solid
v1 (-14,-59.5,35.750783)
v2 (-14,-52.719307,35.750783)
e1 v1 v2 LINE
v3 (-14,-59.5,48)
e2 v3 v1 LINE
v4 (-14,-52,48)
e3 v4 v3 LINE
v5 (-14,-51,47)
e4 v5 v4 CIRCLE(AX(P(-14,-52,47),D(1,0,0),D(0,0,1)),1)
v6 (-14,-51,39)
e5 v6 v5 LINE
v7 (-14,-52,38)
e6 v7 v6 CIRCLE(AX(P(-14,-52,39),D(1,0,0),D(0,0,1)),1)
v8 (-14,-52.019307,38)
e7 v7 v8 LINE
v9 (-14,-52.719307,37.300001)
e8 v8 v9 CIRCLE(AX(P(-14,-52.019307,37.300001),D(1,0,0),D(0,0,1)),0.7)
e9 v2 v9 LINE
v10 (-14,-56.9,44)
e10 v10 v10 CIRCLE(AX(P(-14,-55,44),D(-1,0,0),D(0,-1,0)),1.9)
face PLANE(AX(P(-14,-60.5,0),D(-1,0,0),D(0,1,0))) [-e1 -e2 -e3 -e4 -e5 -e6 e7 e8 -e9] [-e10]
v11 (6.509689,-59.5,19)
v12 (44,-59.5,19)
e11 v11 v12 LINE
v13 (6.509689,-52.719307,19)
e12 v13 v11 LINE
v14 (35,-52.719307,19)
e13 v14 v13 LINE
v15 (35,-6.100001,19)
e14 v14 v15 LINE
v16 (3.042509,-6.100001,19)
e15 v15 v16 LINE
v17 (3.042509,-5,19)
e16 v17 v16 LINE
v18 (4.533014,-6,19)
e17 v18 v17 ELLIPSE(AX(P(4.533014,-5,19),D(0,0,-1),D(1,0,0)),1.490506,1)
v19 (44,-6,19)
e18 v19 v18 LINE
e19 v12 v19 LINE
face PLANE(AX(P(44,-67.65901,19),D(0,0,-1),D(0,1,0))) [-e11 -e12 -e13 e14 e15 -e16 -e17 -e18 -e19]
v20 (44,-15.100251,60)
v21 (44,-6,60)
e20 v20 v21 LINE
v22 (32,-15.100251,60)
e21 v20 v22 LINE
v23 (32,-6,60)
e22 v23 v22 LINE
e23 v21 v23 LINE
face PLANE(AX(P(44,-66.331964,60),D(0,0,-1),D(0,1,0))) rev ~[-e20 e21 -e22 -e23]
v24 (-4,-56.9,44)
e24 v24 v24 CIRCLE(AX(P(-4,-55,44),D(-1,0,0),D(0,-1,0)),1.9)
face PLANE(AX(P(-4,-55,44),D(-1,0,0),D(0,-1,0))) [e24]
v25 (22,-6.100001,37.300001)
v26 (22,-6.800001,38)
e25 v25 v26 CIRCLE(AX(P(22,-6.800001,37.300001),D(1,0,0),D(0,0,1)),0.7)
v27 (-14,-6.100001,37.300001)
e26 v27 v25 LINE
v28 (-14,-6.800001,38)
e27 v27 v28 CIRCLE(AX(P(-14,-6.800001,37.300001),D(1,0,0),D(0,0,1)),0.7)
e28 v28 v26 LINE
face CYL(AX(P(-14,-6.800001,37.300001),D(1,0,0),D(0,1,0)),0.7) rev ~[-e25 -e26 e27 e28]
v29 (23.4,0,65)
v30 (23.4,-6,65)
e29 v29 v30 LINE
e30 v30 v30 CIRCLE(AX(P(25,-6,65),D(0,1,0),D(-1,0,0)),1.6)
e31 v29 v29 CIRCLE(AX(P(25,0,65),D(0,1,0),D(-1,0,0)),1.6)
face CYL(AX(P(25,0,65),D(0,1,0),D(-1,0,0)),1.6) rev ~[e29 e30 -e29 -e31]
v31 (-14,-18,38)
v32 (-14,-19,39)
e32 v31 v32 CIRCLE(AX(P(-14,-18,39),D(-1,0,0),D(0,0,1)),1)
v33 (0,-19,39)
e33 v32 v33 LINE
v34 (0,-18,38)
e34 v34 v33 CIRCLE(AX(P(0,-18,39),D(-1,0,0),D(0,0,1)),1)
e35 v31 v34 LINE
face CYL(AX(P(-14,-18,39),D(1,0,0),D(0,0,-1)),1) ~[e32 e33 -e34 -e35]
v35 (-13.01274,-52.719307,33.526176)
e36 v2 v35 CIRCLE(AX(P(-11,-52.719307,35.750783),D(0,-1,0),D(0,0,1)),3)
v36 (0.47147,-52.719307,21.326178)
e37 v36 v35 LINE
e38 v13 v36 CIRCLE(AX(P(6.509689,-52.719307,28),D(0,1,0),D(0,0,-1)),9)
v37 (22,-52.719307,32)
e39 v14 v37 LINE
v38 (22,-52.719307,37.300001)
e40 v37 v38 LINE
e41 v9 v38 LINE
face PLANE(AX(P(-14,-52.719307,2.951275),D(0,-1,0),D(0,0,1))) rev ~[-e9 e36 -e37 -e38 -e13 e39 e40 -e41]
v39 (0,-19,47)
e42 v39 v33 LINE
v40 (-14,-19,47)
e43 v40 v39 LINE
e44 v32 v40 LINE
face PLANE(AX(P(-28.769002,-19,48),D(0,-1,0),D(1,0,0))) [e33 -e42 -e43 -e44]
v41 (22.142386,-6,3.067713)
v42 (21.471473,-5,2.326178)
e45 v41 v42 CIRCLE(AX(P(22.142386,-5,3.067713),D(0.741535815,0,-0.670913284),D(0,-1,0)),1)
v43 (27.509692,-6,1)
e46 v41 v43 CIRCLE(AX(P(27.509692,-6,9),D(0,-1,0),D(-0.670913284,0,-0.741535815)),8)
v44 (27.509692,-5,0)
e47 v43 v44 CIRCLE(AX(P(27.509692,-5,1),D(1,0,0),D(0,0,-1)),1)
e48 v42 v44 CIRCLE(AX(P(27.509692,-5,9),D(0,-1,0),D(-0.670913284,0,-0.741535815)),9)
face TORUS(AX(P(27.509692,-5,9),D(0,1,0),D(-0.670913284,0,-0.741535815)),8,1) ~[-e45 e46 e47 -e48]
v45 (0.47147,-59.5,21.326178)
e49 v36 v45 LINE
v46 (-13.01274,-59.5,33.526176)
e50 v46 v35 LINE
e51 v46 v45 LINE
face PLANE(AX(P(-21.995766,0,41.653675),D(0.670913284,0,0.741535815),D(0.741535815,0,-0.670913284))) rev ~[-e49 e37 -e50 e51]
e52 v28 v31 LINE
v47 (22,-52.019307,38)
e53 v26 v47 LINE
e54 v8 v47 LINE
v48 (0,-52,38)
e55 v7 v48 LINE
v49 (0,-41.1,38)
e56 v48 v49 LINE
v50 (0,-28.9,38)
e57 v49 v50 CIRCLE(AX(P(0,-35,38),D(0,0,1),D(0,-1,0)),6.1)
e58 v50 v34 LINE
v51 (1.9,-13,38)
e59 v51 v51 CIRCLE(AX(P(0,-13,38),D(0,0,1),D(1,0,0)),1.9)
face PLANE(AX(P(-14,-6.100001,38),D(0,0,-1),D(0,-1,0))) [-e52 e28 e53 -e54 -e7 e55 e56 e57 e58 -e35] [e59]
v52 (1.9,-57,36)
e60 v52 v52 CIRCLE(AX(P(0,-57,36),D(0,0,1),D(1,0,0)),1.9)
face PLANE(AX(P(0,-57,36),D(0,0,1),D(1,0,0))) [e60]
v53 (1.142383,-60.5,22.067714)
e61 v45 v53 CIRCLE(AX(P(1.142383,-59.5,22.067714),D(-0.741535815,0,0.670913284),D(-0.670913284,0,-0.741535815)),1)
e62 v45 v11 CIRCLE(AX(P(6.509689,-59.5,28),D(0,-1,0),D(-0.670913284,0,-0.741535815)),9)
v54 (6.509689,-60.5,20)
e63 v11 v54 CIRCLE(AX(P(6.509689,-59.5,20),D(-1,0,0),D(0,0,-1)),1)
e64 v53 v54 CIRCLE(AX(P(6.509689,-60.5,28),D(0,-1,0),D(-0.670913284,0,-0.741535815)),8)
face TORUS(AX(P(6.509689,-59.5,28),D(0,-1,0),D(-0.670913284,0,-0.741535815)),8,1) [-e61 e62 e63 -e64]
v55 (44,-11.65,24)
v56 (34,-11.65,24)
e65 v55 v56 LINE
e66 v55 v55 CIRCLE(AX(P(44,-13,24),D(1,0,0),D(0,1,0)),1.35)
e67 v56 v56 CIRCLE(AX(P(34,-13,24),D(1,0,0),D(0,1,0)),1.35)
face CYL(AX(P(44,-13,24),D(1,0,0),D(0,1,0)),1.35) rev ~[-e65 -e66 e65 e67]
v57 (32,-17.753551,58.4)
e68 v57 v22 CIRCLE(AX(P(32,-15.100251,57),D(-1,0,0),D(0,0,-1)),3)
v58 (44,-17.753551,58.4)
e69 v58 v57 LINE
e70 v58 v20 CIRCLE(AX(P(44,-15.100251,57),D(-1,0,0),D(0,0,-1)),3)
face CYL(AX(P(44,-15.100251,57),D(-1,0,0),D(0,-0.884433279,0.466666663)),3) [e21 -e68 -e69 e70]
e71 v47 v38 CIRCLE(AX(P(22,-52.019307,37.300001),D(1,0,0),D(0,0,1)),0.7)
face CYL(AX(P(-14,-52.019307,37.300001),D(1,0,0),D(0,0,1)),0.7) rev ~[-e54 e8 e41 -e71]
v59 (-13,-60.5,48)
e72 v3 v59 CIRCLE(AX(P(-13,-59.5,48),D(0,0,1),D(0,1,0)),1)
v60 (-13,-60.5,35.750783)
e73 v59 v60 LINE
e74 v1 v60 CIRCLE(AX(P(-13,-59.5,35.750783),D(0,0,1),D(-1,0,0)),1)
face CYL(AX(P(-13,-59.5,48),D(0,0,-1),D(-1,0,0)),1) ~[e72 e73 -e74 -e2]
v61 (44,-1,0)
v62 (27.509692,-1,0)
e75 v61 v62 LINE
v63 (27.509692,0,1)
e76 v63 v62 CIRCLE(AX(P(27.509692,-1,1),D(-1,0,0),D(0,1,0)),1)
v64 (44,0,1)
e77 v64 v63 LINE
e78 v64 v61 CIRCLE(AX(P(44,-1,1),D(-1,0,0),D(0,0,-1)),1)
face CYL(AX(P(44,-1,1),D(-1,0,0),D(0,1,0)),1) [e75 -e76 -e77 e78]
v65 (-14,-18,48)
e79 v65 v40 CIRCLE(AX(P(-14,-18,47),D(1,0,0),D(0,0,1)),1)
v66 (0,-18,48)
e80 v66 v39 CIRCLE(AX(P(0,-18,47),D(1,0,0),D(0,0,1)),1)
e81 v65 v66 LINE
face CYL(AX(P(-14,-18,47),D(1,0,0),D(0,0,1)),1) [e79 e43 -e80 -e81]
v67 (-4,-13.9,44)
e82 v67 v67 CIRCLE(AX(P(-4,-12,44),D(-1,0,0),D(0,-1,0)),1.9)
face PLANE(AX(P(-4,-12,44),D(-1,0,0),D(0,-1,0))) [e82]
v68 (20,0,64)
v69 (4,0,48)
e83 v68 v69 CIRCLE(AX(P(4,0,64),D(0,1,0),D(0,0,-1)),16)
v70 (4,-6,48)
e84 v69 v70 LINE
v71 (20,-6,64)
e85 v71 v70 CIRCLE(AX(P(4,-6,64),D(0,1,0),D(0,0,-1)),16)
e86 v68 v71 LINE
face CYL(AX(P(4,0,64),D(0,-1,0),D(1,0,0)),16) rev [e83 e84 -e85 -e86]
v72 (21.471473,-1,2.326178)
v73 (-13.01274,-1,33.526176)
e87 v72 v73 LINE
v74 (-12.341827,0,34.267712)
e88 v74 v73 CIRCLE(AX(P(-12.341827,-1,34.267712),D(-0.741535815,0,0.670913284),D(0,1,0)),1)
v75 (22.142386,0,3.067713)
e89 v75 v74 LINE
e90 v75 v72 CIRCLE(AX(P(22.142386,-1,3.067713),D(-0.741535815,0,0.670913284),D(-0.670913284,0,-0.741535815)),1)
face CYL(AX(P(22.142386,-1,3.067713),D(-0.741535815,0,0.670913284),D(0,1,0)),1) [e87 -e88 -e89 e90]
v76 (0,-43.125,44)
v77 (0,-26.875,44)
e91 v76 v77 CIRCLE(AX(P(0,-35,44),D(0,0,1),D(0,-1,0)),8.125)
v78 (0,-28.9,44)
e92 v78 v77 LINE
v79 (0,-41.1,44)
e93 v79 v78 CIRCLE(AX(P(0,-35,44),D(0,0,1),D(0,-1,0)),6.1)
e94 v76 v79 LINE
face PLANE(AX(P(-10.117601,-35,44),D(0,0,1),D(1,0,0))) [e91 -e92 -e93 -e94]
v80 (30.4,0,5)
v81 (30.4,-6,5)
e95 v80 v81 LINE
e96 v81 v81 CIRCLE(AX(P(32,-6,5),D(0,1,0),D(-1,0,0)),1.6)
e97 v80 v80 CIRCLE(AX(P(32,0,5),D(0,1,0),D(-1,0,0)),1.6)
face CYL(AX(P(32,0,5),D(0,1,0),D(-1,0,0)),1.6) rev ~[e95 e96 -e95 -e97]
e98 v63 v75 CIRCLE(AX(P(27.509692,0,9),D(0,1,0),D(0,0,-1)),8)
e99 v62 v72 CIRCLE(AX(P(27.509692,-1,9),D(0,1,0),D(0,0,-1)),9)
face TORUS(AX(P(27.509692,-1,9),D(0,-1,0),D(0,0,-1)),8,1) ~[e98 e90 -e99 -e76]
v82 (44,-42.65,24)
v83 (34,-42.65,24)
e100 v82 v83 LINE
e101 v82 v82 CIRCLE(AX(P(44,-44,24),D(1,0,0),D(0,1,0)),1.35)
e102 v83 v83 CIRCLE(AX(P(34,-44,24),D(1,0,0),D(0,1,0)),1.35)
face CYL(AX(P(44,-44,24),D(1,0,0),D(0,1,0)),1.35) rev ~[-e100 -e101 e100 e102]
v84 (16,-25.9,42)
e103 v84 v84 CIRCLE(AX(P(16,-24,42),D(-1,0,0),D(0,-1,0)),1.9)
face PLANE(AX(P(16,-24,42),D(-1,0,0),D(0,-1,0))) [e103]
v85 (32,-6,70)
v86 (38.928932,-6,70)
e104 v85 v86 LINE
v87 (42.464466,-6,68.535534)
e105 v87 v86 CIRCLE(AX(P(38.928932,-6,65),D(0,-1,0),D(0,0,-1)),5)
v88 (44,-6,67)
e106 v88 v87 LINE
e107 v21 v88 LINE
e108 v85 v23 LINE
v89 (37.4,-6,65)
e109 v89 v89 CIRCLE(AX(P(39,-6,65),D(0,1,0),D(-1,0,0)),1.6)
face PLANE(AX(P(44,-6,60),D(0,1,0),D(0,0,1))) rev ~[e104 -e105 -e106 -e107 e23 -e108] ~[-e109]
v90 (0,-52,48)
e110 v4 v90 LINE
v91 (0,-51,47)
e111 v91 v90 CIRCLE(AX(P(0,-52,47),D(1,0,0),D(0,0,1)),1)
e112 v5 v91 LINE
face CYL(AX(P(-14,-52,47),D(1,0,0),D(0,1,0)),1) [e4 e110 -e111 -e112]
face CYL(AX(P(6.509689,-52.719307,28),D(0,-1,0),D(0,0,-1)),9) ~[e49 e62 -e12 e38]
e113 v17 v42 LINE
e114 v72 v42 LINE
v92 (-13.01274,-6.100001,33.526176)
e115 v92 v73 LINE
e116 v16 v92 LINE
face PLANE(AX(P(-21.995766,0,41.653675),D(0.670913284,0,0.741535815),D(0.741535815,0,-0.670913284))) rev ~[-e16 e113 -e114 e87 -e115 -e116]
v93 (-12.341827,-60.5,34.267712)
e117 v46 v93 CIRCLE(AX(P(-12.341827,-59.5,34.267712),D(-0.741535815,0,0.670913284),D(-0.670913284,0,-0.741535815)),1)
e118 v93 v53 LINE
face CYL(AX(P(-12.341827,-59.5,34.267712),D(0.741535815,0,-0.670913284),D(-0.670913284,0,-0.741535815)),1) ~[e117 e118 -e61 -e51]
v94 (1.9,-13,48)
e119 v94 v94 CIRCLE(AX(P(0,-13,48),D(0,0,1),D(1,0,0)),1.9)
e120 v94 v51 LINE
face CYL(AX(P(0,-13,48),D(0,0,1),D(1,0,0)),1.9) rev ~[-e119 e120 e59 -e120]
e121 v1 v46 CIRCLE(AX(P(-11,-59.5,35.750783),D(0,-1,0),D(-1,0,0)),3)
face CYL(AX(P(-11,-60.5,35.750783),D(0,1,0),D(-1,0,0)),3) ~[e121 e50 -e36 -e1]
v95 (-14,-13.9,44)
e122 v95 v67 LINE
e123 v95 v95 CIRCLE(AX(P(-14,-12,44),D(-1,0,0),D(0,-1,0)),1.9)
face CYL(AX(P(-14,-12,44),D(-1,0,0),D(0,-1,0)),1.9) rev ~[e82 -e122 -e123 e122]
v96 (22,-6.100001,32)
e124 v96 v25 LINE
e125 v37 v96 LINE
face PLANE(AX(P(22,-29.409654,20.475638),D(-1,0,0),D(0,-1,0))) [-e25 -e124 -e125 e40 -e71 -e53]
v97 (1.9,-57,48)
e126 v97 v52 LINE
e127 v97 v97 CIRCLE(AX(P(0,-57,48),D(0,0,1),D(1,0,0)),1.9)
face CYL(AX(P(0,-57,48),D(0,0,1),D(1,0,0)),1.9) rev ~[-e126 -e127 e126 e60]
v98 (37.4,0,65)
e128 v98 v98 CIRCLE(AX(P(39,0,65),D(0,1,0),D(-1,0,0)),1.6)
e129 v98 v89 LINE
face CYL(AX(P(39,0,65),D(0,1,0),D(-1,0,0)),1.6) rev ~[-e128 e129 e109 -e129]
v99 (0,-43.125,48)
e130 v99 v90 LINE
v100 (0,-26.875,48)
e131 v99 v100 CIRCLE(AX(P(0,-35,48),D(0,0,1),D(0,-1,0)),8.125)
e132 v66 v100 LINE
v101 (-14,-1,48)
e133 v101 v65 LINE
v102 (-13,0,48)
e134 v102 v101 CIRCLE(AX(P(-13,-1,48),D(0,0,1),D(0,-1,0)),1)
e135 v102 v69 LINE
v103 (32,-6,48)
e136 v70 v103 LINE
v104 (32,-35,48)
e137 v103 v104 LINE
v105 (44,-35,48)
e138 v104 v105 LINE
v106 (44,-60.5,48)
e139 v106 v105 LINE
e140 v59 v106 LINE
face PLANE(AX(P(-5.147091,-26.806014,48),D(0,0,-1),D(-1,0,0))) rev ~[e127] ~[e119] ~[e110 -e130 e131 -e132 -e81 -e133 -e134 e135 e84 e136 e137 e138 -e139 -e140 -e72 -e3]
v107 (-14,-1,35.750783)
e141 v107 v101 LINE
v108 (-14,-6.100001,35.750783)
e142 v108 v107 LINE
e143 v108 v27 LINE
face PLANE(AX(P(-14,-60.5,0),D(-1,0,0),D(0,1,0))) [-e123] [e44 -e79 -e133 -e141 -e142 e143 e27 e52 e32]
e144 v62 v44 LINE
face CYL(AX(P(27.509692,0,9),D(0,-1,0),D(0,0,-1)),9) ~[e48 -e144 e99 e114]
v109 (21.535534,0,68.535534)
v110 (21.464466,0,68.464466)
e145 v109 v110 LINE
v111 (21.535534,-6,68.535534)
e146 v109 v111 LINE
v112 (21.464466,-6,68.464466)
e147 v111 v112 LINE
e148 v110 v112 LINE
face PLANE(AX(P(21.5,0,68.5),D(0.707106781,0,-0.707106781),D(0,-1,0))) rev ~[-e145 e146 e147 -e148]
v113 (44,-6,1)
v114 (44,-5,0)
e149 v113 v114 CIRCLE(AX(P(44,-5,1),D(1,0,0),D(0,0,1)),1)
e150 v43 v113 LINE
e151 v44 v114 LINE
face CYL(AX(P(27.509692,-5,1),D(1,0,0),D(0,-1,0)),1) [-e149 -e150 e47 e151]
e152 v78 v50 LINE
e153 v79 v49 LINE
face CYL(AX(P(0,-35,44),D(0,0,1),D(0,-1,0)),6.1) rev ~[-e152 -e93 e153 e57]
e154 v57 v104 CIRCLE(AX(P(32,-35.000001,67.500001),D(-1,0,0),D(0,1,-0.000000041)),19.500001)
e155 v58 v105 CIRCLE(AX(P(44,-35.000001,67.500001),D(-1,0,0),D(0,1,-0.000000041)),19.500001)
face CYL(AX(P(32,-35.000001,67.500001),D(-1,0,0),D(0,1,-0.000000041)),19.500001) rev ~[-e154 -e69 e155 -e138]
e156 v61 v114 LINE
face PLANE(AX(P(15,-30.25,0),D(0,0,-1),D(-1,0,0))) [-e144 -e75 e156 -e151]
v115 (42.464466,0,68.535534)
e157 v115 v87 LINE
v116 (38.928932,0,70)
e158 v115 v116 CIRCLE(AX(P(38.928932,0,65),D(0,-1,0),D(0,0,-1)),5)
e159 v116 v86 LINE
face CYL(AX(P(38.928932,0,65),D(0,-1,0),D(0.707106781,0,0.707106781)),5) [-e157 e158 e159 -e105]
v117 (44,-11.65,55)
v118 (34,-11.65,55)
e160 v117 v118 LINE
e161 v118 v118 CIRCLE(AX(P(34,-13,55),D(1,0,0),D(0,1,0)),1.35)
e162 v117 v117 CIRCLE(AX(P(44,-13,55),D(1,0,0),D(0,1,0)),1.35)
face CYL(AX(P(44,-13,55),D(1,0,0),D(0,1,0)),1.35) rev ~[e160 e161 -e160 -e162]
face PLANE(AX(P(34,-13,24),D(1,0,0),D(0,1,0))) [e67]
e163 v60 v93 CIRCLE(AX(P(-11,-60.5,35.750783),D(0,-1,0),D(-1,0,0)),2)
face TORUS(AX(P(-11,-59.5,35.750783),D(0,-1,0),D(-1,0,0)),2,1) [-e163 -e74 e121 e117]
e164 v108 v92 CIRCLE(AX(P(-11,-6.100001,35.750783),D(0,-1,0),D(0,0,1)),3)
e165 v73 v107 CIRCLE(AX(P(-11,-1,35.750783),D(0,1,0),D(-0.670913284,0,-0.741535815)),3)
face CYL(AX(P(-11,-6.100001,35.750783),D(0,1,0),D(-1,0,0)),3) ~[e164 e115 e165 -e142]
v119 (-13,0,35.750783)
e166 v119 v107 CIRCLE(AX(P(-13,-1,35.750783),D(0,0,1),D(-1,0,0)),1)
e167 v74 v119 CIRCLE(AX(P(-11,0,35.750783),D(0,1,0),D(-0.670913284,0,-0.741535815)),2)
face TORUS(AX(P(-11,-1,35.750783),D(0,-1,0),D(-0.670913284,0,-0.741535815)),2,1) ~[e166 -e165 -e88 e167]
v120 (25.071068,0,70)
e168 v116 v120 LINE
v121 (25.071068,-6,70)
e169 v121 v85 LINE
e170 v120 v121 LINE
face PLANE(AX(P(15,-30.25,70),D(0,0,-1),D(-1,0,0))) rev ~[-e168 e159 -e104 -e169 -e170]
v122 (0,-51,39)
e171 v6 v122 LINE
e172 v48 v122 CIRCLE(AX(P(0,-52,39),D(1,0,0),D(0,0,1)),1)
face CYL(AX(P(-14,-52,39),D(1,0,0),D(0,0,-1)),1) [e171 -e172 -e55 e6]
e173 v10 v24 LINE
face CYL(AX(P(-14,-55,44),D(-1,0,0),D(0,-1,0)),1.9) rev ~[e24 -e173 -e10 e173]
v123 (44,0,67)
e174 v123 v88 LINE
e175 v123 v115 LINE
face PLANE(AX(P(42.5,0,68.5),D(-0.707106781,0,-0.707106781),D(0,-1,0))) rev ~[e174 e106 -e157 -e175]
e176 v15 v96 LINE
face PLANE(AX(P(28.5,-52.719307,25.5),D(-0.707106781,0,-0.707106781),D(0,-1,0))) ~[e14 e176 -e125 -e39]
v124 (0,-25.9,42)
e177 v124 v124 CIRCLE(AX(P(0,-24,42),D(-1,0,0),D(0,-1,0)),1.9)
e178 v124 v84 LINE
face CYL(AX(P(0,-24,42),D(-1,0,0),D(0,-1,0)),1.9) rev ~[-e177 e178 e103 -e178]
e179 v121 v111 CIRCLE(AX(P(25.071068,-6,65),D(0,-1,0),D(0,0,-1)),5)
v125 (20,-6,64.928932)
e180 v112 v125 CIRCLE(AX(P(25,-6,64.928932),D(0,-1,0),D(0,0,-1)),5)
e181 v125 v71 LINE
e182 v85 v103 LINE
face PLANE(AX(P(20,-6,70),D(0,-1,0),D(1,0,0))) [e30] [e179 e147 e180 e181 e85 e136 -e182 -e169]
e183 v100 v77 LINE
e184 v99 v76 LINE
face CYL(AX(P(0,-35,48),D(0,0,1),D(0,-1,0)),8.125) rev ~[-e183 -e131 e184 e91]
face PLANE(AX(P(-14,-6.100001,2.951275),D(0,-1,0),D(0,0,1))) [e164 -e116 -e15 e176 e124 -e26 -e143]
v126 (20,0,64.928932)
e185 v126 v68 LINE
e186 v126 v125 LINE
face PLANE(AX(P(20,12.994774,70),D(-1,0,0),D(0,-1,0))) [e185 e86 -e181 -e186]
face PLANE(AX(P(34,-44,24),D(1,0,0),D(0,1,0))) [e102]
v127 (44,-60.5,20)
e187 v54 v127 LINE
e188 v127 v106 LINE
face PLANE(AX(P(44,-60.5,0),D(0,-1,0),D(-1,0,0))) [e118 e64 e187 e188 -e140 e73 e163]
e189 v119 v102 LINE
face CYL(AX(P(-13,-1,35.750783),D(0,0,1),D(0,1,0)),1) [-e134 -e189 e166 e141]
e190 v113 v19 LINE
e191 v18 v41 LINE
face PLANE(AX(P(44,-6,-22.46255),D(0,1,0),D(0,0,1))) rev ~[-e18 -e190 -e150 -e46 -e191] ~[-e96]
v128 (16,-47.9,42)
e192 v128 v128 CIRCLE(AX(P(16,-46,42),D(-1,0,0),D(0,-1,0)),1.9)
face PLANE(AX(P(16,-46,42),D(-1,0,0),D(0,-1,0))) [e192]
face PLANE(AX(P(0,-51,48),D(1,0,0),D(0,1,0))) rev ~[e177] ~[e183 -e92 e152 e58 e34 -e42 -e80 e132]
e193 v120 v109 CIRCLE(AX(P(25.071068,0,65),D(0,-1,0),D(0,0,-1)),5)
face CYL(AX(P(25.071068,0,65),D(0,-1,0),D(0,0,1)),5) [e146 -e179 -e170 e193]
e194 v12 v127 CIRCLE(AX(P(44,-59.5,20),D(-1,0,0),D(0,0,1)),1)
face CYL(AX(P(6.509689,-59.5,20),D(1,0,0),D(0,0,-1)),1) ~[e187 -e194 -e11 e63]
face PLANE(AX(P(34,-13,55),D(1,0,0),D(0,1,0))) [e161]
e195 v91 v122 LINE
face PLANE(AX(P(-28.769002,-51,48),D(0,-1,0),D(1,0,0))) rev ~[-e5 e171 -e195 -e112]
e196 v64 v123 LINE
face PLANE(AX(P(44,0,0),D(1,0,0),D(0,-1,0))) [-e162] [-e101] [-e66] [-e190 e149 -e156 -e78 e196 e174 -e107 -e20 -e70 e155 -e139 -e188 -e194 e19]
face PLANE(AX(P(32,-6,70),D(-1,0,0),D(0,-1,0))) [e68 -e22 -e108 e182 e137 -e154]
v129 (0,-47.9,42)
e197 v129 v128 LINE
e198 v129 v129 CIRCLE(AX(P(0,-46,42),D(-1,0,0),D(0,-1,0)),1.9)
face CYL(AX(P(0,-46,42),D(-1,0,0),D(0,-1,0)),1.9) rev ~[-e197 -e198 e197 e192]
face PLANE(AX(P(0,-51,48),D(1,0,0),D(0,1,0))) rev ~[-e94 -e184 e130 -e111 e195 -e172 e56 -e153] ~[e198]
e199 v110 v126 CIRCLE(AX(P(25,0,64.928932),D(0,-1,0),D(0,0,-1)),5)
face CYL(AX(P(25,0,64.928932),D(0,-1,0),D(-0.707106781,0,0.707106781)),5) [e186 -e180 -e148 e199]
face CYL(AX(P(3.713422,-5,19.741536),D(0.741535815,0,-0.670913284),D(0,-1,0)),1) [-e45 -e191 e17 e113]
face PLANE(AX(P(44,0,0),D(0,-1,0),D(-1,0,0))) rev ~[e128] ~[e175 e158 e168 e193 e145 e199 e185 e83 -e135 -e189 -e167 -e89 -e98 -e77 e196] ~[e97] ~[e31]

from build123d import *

# Parameters (mm, degrees)
PAD_DEPTH       = 70
POCKET_DEPTH    = 22
SKETCH008_W     = 61.659011
SKETCH008_H     = 41.462551
SKETCH008_W_2   = 60.331963
SKETCH008_H_2   = 13.684097
POCKET001_DEPTH = 76
SKETCH003_R     = 1.9
POCKET002_DEPTH = 12
POCKET003_DEPTH = 4
POCKET004_DEPTH = 6
SKETCH009_R     = 1.35
POCKET005_DEPTH = 10
SKETCH030_W     = 28.769002
SKETCH030_H     = 32
POCKET006_DEPTH = 48.001
SKETCH031_W     = 46.619307
SKETCH031_H     = 35.048725
POCKET007_DEPTH = 36
SKETCH032_R     = 1.9
POCKET008_DEPTH = 10
SKETCH013_R     = 1.9
POCKET009_DEPTH = 16
SKETCH010_R     = 1.6
POCKET010_DEPTH = 7
POCKET011_DEPTH = 60.501
POCKET012_DEPTH = 12.001
FILLET_R        = 3
CHAMFER_SIZE    = 3
FILLET001_R     = 5
FILLET002_R     = 9
FILLET003_R     = 0.7
FILLET004_R     = 1
FILLET005_R     = 1
FILLET006_R     = 3
FILLET007_R     = 1
FILLET008_R     = 1
CHAMFER001_SIZE = 13
FILLET009_R     = 1
FILLET010_R     = 16


with BuildPart() as part:
    # Sketch → Pad (new body)
    with BuildSketch(Plane.XY):
        Polygon((0, 0), (44, 0), (44, -60.5), (-14, -60.5), (-14, 0), align=None)
    extrude(amount=PAD_DEPTH)

    # Sketch002 (on Face7 of Pad) → Pocket (cut)
    with BuildSketch(Plane.XY.offset(70)):
        Polygon((32, -6), (32, -65.096024), (-40.783405, -65.096024), (-40.783405, 12.994774), (20, 12.994774), (20, -6), align=None)
    extrude(amount=-POCKET_DEPTH, mode=Mode.SUBTRACT)

    # Sketch008 (on Face3 of Pocket) → Pocket001 (cut)
    with BuildSketch(Plane.YZ.offset(44)):
        with Locations((-36.829505, -1.731275)):
            Rectangle(SKETCH008_W, SKETCH008_H)
        with Locations((-36.165982, 66.842049)):
            Rectangle(SKETCH008_W_2, SKETCH008_H_2)
    extrude(amount=-POCKET001_DEPTH, mode=Mode.SUBTRACT)

    # Sketch003 (on Face6 of Pocket001) → Pocket002 (cut)
    with BuildSketch(Plane.XY.offset(48)):
        with Locations((0, -13)):
            Circle(SKETCH003_R)
        with Locations((0, -57)):
            Circle(SKETCH003_R)
    extrude(amount=-POCKET002_DEPTH, mode=Mode.SUBTRACT)

    # Sketch004 (on Face6 of Pocket002) → Pocket003 (cut)
    with BuildSketch(Plane.XY.offset(48)):
        with BuildLine():
            ThreePointArc((0, -43.125), (8.125, -35), (0, -26.875))
            Line((-25, -26.875), (0, -26.875))
            Line((-25, -43.125), (-25, -26.875))
            Line((0, -43.125), (-25, -43.125))
        make_face()
    extrude(amount=-POCKET003_DEPTH, mode=Mode.SUBTRACT)

    # Sketch018 (on Face22 of Pocket003) → Pocket004 (cut)
    with BuildSketch(Plane.XY.offset(44)):
        with BuildLine():
            ThreePointArc((0, -41.1), (6.1, -35), (0, -28.9))
            Line((0, -28.9), (-50, -28.9))
            Line((-50, -41.1), (-50, -28.9))
            Line((0, -41.1), (-50, -41.1))
        make_face()
    extrude(amount=-POCKET004_DEPTH, mode=Mode.SUBTRACT)

    # Sketch009 (on Face3 of Pocket004) → Pocket005 (cut)
    with BuildSketch(Plane.YZ.offset(44)):
        with Locations((-44, 55)):
            Circle(SKETCH009_R)
        with Locations((-13, 24)):
            Circle(SKETCH009_R)
        with Locations((-13, 55)):
            Circle(SKETCH009_R)
        with Locations((-44, 24)):
            Circle(SKETCH009_R)
    extrude(amount=-POCKET005_DEPTH, mode=Mode.SUBTRACT)

    # Sketch030 (on Face6 of Pocket005) → Pocket006 (cut, through all)
    with BuildSketch(Plane.XY.offset(48)):
        with Locations((-14.384501, -35)):
            Rectangle(SKETCH030_W, SKETCH030_H)
    extrude(amount=-POCKET006_DEPTH, mode=Mode.SUBTRACT)

    # Sketch031 (on Face8 of Pocket006) → Pocket007 (cut)
    with BuildSketch(Plane(origin=(-14, 0, 0), x_dir=(0, -1, 0), z_dir=(-1, 0, 0))):
        with Locations((29.409654, 20.475638)):
            Rectangle(SKETCH031_W, SKETCH031_H)
    extrude(amount=-POCKET007_DEPTH, mode=Mode.SUBTRACT)

    # Sketch032 (on Face8 of Pocket007) → Pocket008 (cut)
    with BuildSketch(Plane(origin=(-14, 0, 0), x_dir=(0, -1, 0), z_dir=(-1, 0, 0))):
        with Locations((12, 44)):
            Circle(SKETCH032_R)
        with Locations((55, 44)):
            Circle(SKETCH032_R)
    extrude(amount=-POCKET008_DEPTH, mode=Mode.SUBTRACT)

    # Sketch013 (on Face21 of Pocket008) → Pocket009 (cut)
    with BuildSketch(Plane(origin=(0, 0, 0), x_dir=(0, -1, 0), z_dir=(-1, 0, 0))):
        with Locations((24, 42)):
            Circle(SKETCH013_R)
        with Locations((46, 42)):
            Circle(SKETCH013_R)
    extrude(amount=-POCKET009_DEPTH, mode=Mode.SUBTRACT)

    # Sketch010 (on Face1 of Pocket009) → Pocket010 (cut)
    with BuildSketch(Plane(origin=(0, 0, 0), x_dir=(-1, 0, 0), z_dir=(0, 1, 0))):
        with Locations((-32, 5)):
            Circle(SKETCH010_R)
        with Locations((-39, 65)):
            Circle(SKETCH010_R)
        with Locations((-25, 65)):
            Circle(SKETCH010_R)
    extrude(amount=-POCKET010_DEPTH, mode=Mode.SUBTRACT)

    # Sketch033 (on Face1 of Pocket010) → Pocket011 (cut, through all)
    with BuildSketch(Plane(origin=(0, 0, 0), x_dir=(-1, 0, 0), z_dir=(0, 1, 0))):
        Polygon((21.995766, 41.653675), (-34.908054, -9.830728), (21.995766, -12.411399), align=None)
    extrude(amount=-POCKET011_DEPTH, mode=Mode.SUBTRACT)

    # Sketch034 (on Face30 of Pocket011) → Pocket012 (cut, through all)
    with BuildSketch(Plane(origin=(32, 0, 0), x_dir=(0, -1, 0), z_dir=(-1, 0, 0))):
        with BuildLine():
            ThreePointArc((15.5, 67.5), (21.211418, 53.711418), (35, 48))
            Line((35, 48), (74.47, 48))
            Line((74.47, 67.5), (74.47, 48))
            Line((15.5, 67.5), (74.47, 67.5))
        make_face()
    extrude(amount=-POCKET012_DEPTH, mode=Mode.SUBTRACT)

    # Fillet
    fillet_edges = [part.edges().sort_by_distance(p)[0] for p in [
        (38, -17, 60),
    ]]
    fillet(fillet_edges, radius=FILLET_R)

    # Chamfer
    chamfer_edges = [part.edges().sort_by_distance(p)[0] for p in [
        (44, -3, 70),
        (20, -3, 70),
    ]]
    chamfer(chamfer_edges, length=CHAMFER_SIZE)

    # Fillet001
    fillet001_edges = [part.edges().sort_by_distance(p)[0] for p in [
        (41, -3, 70),
        (23, -3, 70),
        (20, -3, 67),
    ]]
    fillet(fillet001_edges, radius=FILLET001_R)

    # Fillet002
    fillet002_edges = [part.edges().sort_by_distance(p)[0] for p in [
        (24.042511, -3, 0),
        (3.042509, -56.609654, 19),
    ]]
    fillet(fillet002_edges, radius=FILLET002_R)

    # Fillet003
    fillet003_edges = [part.edges().sort_by_distance(p)[0] for p in [
        (4, -6.1, 38),
        (4, -52.719307, 38),
    ]]
    fillet(fillet003_edges, radius=FILLET003_R)

    # Fillet004
    fillet004_edges = [part.edges().sort_by_distance(p)[0] for p in [
        (-7, -19, 38),
        (-7, -51, 38),
    ]]
    fillet(fillet004_edges, radius=FILLET004_R)

    # Fillet005
    fillet005_edges = [part.edges().sort_by_distance(p)[0] for p in [
        (-7, -51, 48),
        (-7, -19, 48),
    ]]
    fillet(fillet005_edges, radius=FILLET005_R)

    # Fillet006
    fillet006_edges = [part.edges().sort_by_distance(p)[0] for p in [
        (-14, -56.609654, 34.419411),
        (-14, -3.05, 34.419411),
    ]]
    fillet(fillet006_edges, radius=FILLET006_R)

    # Fillet007
    fillet007_edges = [part.edges().sort_by_distance(p)[0] for p in [
        (35.754846, 0, 0),
    ]]
    fillet(fillet007_edges, radius=FILLET007_R)

    # Fillet008
    fillet008_edges = [part.edges().sort_by_distance(p)[0] for p in [
        (25.254845, -60.5, 19),
    ]]
    fillet(fillet008_edges, radius=FILLET008_R)

    # Chamfer001
    chamfer001_edges = [part.edges().sort_by_distance(p)[0] for p in [
        (22, -29.409654, 19),
    ]]
    chamfer(chamfer001_edges, length=CHAMFER001_SIZE)

    # Fillet009
    fillet009_edges = [part.edges().sort_by_distance(p)[0] for p in [
        (35.754846, -6, 0),
    ]]
    fillet(fillet009_edges, radius=FILLET009_R)

    # Fillet010
    fillet010_edges = [part.edges().sort_by_distance(p)[0] for p in [
        (20, -3, 48),
    ]]
    fillet(fillet010_edges, radius=FILLET010_R)


solid = part.part
